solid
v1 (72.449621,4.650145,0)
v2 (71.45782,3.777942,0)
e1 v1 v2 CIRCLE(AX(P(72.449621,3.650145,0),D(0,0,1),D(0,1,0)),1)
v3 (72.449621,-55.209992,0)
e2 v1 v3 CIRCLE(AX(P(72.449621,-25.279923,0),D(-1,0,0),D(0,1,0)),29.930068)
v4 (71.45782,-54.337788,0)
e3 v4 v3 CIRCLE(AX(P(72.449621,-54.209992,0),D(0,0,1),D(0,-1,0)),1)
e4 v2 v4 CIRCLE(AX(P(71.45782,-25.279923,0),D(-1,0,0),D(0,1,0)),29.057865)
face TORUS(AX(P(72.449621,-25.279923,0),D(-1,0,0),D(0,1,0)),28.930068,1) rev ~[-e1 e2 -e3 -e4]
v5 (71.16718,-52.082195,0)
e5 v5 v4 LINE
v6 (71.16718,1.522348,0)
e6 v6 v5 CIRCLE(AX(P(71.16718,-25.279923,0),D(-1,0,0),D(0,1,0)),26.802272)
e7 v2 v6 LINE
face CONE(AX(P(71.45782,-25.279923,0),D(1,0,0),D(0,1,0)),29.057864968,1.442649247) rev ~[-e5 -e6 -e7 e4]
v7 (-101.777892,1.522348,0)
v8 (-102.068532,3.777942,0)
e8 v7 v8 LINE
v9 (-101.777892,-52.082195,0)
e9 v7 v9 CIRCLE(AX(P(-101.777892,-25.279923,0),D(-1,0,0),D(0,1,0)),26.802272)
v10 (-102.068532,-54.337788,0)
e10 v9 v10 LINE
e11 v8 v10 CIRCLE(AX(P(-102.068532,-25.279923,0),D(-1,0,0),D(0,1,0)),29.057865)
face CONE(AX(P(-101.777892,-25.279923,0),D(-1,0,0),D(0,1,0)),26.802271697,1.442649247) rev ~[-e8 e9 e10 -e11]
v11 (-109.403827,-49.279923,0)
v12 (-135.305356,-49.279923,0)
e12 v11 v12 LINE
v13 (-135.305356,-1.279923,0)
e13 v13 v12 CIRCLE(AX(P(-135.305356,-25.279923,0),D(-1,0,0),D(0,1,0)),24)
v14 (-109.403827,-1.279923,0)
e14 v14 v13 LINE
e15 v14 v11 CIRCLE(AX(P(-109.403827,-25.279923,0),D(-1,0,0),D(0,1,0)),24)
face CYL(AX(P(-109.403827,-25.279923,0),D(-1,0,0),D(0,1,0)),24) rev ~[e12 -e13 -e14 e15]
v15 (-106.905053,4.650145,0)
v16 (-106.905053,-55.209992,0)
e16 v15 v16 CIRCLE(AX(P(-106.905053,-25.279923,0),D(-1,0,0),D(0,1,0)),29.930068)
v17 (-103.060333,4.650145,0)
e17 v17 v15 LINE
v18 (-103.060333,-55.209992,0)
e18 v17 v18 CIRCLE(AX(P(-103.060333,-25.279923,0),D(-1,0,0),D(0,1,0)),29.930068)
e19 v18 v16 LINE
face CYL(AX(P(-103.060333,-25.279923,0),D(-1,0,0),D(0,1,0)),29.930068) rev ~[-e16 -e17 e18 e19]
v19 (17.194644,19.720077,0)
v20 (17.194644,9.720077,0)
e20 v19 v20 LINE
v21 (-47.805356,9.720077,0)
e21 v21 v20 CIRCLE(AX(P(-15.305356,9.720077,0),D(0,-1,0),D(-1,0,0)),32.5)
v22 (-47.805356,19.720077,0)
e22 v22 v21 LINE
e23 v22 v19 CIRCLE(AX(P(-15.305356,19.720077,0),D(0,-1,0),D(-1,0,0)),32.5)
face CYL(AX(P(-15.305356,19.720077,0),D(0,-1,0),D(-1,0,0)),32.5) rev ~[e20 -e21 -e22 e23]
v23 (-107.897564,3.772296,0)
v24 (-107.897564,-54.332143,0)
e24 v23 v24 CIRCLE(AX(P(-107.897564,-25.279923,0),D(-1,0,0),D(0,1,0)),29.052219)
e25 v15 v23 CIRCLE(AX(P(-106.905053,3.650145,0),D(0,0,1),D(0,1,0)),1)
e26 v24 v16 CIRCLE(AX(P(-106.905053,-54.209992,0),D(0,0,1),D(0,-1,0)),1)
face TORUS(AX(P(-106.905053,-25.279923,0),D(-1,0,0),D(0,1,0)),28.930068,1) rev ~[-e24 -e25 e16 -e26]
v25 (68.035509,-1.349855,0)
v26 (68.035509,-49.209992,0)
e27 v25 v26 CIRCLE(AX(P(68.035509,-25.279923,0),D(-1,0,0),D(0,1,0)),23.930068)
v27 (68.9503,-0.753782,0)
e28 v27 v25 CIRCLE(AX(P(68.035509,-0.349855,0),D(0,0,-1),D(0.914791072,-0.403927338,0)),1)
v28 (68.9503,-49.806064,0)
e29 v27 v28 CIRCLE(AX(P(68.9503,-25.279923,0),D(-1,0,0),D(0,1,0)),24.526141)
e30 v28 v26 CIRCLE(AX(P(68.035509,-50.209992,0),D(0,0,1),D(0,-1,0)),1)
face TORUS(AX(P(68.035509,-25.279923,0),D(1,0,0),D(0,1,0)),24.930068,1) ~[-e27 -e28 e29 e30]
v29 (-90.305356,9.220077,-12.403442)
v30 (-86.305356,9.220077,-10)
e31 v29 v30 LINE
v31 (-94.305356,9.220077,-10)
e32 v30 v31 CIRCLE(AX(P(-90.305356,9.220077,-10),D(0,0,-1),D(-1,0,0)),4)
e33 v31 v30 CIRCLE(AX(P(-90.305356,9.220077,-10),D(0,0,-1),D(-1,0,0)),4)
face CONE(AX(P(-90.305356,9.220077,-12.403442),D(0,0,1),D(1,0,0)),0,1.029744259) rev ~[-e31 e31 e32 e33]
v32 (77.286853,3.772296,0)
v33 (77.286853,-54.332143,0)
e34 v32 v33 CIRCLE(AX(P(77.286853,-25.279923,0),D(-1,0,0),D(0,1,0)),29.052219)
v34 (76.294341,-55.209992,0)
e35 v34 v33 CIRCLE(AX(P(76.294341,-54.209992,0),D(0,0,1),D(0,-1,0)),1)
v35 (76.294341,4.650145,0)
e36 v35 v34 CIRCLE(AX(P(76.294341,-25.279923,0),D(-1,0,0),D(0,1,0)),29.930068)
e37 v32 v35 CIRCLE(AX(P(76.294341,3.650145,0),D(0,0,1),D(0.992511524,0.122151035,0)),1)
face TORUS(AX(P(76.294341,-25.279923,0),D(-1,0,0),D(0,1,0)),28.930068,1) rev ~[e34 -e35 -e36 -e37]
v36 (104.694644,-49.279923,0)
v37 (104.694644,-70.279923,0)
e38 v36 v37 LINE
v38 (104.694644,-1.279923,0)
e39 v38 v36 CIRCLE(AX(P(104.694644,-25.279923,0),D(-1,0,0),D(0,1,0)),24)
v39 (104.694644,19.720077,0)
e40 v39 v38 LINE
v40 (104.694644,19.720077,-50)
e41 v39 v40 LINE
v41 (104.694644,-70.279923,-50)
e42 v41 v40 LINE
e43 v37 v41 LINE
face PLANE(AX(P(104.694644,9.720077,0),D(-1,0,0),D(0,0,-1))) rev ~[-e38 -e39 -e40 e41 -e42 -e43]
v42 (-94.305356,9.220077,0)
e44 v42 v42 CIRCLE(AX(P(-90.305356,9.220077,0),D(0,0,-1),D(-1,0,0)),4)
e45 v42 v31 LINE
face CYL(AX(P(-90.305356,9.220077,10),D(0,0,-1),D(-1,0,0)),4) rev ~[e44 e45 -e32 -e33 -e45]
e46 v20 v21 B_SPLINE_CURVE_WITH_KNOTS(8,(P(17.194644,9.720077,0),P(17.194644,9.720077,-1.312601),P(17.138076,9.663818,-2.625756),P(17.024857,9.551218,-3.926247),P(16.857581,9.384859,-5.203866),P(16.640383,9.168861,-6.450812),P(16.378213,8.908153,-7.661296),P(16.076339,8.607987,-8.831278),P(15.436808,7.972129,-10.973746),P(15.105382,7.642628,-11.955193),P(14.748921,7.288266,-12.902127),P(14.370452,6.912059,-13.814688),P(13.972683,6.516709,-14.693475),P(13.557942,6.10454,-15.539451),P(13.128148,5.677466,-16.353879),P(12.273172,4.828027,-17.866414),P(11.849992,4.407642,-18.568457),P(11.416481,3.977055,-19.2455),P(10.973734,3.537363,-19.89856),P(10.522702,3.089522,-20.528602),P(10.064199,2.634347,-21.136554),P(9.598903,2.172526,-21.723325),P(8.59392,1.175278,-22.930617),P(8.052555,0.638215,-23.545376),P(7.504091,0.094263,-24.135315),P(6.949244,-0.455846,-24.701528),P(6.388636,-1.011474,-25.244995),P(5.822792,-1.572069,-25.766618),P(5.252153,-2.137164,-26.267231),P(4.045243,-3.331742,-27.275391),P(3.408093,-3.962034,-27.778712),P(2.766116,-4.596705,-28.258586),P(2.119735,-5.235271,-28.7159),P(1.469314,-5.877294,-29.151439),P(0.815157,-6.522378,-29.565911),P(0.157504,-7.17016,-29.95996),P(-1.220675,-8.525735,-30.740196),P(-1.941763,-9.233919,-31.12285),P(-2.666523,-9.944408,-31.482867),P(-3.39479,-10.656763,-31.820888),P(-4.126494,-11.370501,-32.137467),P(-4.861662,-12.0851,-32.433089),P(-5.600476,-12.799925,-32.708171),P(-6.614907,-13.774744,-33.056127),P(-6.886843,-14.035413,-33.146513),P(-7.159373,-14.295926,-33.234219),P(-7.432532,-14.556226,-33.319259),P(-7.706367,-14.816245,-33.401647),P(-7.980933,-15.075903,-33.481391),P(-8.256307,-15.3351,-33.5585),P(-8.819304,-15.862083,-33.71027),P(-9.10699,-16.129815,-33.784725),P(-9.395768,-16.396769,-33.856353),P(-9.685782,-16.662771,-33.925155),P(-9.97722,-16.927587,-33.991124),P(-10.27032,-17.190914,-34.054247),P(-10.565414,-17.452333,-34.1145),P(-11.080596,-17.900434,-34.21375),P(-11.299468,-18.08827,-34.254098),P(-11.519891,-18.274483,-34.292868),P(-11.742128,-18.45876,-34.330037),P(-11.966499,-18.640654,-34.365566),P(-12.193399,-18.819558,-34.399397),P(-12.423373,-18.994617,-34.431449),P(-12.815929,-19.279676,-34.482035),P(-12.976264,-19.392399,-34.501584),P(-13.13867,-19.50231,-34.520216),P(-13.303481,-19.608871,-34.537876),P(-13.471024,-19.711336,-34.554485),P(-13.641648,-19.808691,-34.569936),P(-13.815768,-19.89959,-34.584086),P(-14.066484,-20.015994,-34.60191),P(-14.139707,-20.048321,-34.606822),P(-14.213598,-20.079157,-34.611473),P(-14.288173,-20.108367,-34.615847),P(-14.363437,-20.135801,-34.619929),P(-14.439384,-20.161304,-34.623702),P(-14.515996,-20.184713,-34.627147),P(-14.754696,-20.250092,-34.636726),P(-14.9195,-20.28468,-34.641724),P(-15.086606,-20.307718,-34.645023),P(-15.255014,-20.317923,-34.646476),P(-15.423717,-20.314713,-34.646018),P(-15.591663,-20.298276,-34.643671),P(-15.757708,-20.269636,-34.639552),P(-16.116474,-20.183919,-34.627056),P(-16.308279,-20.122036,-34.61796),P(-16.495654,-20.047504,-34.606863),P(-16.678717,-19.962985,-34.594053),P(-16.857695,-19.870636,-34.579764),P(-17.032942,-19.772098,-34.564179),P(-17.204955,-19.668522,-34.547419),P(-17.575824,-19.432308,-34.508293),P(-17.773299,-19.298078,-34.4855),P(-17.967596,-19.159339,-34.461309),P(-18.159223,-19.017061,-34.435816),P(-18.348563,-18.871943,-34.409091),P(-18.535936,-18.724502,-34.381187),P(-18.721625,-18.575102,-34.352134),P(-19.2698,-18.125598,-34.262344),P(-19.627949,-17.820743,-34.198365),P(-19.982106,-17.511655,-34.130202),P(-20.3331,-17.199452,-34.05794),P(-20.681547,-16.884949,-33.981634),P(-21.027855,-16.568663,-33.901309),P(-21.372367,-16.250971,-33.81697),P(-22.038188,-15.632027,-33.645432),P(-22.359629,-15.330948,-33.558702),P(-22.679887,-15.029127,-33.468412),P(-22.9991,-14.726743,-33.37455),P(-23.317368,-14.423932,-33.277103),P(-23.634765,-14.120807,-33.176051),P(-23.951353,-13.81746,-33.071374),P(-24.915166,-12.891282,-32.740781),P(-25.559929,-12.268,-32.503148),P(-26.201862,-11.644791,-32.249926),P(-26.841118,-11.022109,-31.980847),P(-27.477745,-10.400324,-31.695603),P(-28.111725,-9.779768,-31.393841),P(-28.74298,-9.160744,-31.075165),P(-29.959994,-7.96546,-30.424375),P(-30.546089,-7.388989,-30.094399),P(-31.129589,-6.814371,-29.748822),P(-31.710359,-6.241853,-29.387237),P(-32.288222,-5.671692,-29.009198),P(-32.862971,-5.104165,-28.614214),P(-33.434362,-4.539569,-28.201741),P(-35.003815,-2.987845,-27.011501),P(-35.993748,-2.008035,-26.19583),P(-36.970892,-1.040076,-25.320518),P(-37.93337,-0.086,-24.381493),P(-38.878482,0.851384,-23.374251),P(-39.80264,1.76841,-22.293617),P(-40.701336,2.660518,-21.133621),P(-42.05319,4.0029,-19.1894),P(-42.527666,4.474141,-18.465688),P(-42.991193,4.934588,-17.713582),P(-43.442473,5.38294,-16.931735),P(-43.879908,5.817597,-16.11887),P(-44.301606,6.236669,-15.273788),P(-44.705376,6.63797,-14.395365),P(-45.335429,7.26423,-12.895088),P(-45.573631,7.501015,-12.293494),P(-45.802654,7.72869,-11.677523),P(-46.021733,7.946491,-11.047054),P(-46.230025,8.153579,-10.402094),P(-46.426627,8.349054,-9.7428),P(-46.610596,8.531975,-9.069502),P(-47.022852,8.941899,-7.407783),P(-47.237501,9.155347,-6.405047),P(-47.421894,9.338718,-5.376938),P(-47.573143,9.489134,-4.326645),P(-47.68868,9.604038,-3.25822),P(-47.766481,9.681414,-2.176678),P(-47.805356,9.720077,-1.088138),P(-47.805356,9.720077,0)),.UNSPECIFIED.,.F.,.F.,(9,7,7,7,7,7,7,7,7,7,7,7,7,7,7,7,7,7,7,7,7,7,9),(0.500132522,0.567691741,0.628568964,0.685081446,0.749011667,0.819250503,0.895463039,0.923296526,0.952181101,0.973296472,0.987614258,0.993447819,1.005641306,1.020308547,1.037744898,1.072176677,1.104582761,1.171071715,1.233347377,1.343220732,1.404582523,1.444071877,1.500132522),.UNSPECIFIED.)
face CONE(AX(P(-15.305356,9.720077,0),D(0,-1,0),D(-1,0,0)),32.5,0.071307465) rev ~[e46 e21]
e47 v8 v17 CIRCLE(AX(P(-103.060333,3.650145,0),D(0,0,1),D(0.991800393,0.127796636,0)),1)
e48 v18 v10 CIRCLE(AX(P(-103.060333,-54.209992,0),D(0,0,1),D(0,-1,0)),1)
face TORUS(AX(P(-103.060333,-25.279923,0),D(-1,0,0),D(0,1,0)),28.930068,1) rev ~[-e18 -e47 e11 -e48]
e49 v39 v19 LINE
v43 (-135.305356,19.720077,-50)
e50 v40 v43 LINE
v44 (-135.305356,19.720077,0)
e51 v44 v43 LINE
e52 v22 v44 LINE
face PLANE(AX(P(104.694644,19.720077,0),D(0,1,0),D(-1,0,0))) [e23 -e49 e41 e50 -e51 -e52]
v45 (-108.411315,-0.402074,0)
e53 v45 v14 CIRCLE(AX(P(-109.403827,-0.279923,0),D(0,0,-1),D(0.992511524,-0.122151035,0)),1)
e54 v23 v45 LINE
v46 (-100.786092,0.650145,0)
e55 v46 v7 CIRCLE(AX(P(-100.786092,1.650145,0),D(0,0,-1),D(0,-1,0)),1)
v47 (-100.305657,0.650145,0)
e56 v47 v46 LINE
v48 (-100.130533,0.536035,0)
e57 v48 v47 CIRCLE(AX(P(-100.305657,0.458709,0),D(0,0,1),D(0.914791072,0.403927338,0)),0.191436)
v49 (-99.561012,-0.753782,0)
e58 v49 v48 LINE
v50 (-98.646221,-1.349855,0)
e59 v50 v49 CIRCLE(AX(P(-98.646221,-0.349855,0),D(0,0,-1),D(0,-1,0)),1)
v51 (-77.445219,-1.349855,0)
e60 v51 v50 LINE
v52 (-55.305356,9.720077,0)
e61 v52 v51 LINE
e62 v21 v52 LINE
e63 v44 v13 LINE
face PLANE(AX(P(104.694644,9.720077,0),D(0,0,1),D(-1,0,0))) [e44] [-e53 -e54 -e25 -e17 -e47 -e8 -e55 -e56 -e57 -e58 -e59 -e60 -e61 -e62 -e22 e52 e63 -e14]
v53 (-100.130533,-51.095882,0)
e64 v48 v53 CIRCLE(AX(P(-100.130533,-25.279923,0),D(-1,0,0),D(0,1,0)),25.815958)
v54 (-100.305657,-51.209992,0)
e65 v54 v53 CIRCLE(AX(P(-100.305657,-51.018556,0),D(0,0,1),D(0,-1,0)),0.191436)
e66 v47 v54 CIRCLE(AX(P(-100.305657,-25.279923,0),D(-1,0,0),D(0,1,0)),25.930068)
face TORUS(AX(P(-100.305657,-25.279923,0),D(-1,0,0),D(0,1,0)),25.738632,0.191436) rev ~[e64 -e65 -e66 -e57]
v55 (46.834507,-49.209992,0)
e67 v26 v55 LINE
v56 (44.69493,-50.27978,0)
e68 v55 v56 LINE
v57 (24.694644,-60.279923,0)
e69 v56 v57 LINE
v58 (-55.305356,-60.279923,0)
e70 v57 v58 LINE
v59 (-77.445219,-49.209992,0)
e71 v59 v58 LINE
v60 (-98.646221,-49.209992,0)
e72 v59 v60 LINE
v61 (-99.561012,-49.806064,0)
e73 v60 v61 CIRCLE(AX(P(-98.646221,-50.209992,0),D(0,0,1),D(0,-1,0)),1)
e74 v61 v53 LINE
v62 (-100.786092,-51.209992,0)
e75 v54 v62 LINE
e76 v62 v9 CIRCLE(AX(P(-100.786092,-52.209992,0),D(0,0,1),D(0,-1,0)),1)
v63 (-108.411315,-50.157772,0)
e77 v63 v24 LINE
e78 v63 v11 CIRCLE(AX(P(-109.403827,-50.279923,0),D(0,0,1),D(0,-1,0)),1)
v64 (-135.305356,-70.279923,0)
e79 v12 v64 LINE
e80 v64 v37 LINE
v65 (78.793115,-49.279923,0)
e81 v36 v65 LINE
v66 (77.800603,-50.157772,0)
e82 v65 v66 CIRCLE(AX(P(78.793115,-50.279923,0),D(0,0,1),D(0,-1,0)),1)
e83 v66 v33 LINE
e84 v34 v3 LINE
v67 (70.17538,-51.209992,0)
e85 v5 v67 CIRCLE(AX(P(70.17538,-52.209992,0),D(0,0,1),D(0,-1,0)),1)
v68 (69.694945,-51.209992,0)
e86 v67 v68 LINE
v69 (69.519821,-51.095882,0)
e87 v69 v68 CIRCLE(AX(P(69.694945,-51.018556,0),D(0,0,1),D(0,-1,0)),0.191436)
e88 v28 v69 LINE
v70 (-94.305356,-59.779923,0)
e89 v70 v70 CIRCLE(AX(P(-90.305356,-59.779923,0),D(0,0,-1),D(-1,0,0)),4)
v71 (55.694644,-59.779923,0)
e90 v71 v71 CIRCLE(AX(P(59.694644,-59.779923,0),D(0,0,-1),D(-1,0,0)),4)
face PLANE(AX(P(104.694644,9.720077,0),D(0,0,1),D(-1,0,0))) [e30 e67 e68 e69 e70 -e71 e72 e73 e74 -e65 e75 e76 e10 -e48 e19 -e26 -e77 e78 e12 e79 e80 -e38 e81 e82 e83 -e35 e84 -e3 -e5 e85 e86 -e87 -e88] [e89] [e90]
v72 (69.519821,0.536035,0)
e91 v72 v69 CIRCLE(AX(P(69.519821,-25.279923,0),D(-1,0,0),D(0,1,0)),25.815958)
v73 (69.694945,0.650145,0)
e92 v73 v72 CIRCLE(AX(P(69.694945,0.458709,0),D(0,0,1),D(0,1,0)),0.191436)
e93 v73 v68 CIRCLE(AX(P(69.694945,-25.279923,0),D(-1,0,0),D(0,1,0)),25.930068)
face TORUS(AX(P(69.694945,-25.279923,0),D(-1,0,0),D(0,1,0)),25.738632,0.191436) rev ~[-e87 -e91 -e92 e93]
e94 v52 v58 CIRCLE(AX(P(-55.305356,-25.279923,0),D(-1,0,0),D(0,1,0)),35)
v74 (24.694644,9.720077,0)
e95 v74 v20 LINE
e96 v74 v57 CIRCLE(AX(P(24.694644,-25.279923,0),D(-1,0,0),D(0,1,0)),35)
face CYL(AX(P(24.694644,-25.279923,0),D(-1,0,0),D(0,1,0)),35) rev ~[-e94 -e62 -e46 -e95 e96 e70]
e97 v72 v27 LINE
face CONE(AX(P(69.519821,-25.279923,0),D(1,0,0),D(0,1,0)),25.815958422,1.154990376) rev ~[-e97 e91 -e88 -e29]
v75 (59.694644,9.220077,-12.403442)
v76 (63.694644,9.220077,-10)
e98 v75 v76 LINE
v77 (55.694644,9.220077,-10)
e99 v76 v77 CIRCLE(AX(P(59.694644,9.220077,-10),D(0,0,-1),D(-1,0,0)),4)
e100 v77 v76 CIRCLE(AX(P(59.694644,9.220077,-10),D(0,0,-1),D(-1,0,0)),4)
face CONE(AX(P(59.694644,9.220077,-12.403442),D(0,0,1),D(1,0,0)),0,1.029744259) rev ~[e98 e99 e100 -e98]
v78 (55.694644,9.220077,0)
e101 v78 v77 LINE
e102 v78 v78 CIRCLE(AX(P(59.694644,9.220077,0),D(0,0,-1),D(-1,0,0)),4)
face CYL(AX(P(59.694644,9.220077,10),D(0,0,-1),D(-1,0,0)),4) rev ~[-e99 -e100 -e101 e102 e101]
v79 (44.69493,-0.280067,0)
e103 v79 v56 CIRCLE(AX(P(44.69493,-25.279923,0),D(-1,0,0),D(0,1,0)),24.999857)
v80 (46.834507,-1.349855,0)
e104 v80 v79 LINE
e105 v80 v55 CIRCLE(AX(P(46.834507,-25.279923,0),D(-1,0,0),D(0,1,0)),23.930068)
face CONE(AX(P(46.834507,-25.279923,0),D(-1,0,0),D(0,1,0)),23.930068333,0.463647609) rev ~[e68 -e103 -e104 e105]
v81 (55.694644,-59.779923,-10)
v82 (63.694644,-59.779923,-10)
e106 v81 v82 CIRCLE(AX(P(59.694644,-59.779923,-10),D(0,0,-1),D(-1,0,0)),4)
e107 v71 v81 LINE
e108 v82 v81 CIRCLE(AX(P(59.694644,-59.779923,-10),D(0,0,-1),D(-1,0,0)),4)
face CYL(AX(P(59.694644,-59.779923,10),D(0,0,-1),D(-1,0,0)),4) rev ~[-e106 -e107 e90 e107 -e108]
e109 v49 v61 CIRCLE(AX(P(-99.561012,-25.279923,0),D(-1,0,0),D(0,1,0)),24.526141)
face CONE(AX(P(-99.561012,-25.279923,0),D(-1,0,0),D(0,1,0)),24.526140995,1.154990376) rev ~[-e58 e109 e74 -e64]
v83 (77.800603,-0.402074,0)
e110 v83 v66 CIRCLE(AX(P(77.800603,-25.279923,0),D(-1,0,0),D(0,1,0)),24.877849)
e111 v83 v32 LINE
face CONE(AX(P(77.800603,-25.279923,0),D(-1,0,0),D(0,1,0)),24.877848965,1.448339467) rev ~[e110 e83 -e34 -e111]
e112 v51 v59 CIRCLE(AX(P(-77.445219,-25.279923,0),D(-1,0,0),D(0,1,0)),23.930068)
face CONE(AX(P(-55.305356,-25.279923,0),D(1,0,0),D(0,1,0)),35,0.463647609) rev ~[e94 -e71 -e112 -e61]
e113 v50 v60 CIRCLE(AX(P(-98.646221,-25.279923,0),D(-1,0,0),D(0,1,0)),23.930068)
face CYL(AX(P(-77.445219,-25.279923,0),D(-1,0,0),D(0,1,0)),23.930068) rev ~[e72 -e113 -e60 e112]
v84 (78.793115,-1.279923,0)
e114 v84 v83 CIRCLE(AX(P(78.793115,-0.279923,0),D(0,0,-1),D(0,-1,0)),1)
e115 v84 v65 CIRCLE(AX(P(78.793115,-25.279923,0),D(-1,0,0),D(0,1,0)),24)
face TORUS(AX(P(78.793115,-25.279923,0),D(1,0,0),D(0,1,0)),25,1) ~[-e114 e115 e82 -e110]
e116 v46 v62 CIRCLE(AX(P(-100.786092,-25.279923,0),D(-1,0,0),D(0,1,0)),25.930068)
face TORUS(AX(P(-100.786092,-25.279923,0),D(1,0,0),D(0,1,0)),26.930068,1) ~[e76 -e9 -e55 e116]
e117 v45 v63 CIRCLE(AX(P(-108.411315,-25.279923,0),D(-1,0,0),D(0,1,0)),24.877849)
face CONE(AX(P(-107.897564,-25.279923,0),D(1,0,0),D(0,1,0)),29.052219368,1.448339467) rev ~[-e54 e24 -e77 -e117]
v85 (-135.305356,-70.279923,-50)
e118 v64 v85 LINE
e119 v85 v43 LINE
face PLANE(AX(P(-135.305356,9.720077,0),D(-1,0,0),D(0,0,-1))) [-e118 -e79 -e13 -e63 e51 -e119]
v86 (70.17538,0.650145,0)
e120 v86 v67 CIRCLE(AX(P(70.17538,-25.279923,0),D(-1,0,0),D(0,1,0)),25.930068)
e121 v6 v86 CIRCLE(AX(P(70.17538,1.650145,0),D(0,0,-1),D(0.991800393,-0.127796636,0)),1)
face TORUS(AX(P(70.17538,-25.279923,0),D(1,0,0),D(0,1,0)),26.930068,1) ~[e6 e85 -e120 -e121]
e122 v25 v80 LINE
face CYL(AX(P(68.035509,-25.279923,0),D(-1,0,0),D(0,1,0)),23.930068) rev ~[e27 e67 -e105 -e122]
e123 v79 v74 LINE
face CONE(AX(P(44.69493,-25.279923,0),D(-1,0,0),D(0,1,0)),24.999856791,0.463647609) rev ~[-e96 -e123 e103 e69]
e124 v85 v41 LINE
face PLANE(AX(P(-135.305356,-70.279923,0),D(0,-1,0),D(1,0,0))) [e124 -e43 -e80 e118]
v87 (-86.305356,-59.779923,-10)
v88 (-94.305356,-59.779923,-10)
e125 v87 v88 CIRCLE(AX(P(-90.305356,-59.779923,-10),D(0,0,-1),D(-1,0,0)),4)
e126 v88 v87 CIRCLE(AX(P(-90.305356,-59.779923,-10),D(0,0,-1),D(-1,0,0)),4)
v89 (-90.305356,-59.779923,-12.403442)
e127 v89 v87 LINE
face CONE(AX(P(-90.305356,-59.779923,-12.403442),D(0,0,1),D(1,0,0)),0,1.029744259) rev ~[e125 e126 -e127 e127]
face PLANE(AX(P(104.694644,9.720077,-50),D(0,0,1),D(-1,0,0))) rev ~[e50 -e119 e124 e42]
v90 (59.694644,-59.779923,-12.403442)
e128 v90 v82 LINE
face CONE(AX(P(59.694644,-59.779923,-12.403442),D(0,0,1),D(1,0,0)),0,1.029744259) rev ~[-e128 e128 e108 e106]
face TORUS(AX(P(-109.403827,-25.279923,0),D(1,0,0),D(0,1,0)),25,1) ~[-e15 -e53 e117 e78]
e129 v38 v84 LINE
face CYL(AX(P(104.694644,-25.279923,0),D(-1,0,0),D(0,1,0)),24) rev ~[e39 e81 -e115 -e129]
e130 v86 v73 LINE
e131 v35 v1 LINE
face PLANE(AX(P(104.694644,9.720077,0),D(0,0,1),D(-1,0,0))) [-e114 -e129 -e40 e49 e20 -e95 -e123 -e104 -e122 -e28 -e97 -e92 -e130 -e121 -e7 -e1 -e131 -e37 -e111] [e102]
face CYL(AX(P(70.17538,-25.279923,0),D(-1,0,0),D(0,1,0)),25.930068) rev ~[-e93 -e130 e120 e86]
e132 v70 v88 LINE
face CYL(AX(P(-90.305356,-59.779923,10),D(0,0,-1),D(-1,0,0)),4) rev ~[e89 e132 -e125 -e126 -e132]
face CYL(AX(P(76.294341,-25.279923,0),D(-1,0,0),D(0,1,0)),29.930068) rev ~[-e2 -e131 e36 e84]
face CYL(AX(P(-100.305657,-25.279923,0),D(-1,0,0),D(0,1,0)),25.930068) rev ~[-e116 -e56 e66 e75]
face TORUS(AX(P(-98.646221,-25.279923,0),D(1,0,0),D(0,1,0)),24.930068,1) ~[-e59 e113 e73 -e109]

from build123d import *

# Parameters (mm, degrees)
F2_DEPTH = 50
F3_DEPTH = 10
F4_DEPTH = 10
F9_D     = 8
F9_DEPTH = 10
F9_TIP   = 2.4034424761


with BuildPart() as f2:
    # F1 (on Top) → F2 (new body)
    with BuildSketch(Plane.XY):
        Polygon((104.6946440462, 9.7200765769), (-17.8120452341, 9.7200765769), (-135.3053559538, 9.7200765769), (-135.3053559538, -25.2799234231), (-135.3053559538, -25.3889499211), (-135.3053559538, -60.2799234231), (-17.8120452341, -60.2799234231), (104.6946440462, -60.2799234231), (104.6946440462, -25.2799234231), align=None)
    extrude(amount=-F2_DEPTH)

    # F3 (add): a face of the model
    f3_faces = [f2.faces().sort_by_distance(p)[0] for p in [
        (-15.3053559538, -60.2799234231, -25),
    ]]
    extrude(f3_faces, amount=F3_DEPTH)

    # F4 (add): a face of the model
    f4_faces = [f2.faces().sort_by_distance(p)[0] for p in [
        (-15.3053559538, 9.7200765769, -25),
    ]]
    extrude(f4_faces, amount=F4_DEPTH)

    # F0 (on Top) → F5 (revolve, cut)
    with BuildSketch(Plane.XY):
        with BuildLine():
            Line((24.6946440462, 9.7200765769), (-15.3053559538, 9.7200765769))
            Line((-15.3053559538, 9.7200765769), (-55.3053559538, 9.7200765769))
            Line((-55.3053559538, 9.7200765769), (-75.3056423718, -0.2800666321))
            Line((-75.3056423718, -0.2800666321), (-77.4452192884, -1.3498550904))
            Line((-77.4452192884, -1.3498550904), (-98.6462212814, -1.3498550904))
            ThreePointArc((-98.6462212814, -1.3498550904), (-99.1921483195, -1.1876878118), (-99.5610123534, -0.7537824284))
            Line((-99.5610123534, -0.7537824284), (-100.1305331281, 0.5360349991))
            ThreePointArc((-100.1305331281, 0.5360349991), (-100.2011470727, 0.6191002152), (-100.3056572934, 0.6501449096))
            Line((-100.3056572934, 0.6501449096), (-100.7860915868, 0.6501449096))
            ThreePointArc((-100.7860915868, 0.6501449096), (-101.4464715397, 0.8992132764), (-101.77789198, 1.5223482739))
            Line((-101.77789198, 1.5223482739), (-102.0685323482, 3.7779415453))
            ThreePointArc((-102.0685323482, 3.7779415453), (-102.3999527885, 4.4010765429), (-103.0603327414, 4.6501449096))
            Line((-103.0603327414, 4.6501449096), (-106.9050528879, 4.6501449096))
            ThreePointArc((-106.9050528879, 4.6501449096), (-107.5675666481, 4.3991946527), (-107.8975644116, 3.7722959448))
            Line((-107.8975644116, 3.7722959448), (-108.4113152888, -0.4020744583))
            ThreePointArc((-108.4113152888, -0.4020744583), (-108.7413130523, -1.0289731662), (-109.4038268125, -1.2799234231))
            Line((-109.4038268125, -1.2799234231), (-135.3053559538, -1.2799234231))
            Line((-135.3053559538, -1.2799234231), (-135.3053559538, -25.2799234231))
            Line((-135.3053559538, -25.2799234231), (-15.3053559538, -25.2799234231))
            Line((-15.3053559538, -25.2799234231), (104.6946440462, -25.2799234231))
            Line((104.6946440462, -25.2799234231), (104.6946440462, -1.2799234231))
            Line((104.6946440462, -1.2799234231), (78.7931149049, -1.2799234231))
            ThreePointArc((78.7931149049, -1.2799234231), (78.1306011447, -1.0289731662), (77.8006033812, -0.4020744583))
            Line((77.8006033812, -0.4020744583), (77.286852504, 3.7722959448))
            ThreePointArc((77.286852504, 3.7722959448), (76.9568547405, 4.3991946527), (76.2943409803, 4.6501449096))
            Line((76.2943409803, 4.6501449096), (72.4496208338, 4.6501449096))
            ThreePointArc((72.4496208338, 4.6501449096), (71.7892408809, 4.4010765429), (71.4578204406, 3.7779415453))
            Line((71.4578204406, 3.7779415453), (71.1671800723, 1.5223482739))
            ThreePointArc((71.1671800723, 1.5223482739), (70.835759632, 0.8992132764), (70.1753796792, 0.6501449096))
            Line((70.1753796792, 0.6501449096), (69.6949453858, 0.6501449096))
            ThreePointArc((69.6949453858, 0.6501449096), (69.5904351651, 0.6191002152), (69.5198212205, 0.5360349991))
            Line((69.5198212205, 0.5360349991), (68.9503004458, -0.7537824284))
            ThreePointArc((68.9503004458, -0.7537824284), (68.5814364119, -1.1876878118), (68.0355093737, -1.3498550904))
            Line((68.0355093737, -1.3498550904), (46.8345073808, -1.3498550904))
            Line((46.8345073808, -1.3498550904), (44.6949304641, -0.2800666321))
            Line((44.6949304641, -0.2800666321), (24.6946440462, 9.7200765769))
        make_face()
    revolve(axis=Axis((-75.3053559538, -25.2799234231, 0), (-1, 0, 0)), mode=Mode.SUBTRACT)

    # F6 (on face) → F7 (revolve, cut)
    with BuildSketch(Plane.XY):
        Polygon((-15.3053559538, -25.2799234231), (-15.3053559538, 9.7200765769), (-15.3053559538, 19.7200765769), (-47.8053559538, 19.7200765769), (-47.8053559538, 9.7200765769), (-50.3053559538, -25.2799234231), align=None)
    revolve(axis=Axis((-15.3053559538, -7.7799234231, 0), (0, -1, 0)), mode=Mode.SUBTRACT)

    # F9
    with Locations(Plane.XY):
        with Locations((-90.3053559538, 9.2200765769), (-90.3053559538, -59.7799234231), (59.6946440462, -59.7799234231), (59.6946440462, 9.2200765769)):
            Hole(F9_D / 2, depth=F9_DEPTH)
            with Locations((0, 0, -(F9_DEPTH + F9_TIP / 2))):  # 118° drill point
                Cone(0, F9_D / 2, F9_TIP, mode=Mode.SUBTRACT)


solid = f2.part
